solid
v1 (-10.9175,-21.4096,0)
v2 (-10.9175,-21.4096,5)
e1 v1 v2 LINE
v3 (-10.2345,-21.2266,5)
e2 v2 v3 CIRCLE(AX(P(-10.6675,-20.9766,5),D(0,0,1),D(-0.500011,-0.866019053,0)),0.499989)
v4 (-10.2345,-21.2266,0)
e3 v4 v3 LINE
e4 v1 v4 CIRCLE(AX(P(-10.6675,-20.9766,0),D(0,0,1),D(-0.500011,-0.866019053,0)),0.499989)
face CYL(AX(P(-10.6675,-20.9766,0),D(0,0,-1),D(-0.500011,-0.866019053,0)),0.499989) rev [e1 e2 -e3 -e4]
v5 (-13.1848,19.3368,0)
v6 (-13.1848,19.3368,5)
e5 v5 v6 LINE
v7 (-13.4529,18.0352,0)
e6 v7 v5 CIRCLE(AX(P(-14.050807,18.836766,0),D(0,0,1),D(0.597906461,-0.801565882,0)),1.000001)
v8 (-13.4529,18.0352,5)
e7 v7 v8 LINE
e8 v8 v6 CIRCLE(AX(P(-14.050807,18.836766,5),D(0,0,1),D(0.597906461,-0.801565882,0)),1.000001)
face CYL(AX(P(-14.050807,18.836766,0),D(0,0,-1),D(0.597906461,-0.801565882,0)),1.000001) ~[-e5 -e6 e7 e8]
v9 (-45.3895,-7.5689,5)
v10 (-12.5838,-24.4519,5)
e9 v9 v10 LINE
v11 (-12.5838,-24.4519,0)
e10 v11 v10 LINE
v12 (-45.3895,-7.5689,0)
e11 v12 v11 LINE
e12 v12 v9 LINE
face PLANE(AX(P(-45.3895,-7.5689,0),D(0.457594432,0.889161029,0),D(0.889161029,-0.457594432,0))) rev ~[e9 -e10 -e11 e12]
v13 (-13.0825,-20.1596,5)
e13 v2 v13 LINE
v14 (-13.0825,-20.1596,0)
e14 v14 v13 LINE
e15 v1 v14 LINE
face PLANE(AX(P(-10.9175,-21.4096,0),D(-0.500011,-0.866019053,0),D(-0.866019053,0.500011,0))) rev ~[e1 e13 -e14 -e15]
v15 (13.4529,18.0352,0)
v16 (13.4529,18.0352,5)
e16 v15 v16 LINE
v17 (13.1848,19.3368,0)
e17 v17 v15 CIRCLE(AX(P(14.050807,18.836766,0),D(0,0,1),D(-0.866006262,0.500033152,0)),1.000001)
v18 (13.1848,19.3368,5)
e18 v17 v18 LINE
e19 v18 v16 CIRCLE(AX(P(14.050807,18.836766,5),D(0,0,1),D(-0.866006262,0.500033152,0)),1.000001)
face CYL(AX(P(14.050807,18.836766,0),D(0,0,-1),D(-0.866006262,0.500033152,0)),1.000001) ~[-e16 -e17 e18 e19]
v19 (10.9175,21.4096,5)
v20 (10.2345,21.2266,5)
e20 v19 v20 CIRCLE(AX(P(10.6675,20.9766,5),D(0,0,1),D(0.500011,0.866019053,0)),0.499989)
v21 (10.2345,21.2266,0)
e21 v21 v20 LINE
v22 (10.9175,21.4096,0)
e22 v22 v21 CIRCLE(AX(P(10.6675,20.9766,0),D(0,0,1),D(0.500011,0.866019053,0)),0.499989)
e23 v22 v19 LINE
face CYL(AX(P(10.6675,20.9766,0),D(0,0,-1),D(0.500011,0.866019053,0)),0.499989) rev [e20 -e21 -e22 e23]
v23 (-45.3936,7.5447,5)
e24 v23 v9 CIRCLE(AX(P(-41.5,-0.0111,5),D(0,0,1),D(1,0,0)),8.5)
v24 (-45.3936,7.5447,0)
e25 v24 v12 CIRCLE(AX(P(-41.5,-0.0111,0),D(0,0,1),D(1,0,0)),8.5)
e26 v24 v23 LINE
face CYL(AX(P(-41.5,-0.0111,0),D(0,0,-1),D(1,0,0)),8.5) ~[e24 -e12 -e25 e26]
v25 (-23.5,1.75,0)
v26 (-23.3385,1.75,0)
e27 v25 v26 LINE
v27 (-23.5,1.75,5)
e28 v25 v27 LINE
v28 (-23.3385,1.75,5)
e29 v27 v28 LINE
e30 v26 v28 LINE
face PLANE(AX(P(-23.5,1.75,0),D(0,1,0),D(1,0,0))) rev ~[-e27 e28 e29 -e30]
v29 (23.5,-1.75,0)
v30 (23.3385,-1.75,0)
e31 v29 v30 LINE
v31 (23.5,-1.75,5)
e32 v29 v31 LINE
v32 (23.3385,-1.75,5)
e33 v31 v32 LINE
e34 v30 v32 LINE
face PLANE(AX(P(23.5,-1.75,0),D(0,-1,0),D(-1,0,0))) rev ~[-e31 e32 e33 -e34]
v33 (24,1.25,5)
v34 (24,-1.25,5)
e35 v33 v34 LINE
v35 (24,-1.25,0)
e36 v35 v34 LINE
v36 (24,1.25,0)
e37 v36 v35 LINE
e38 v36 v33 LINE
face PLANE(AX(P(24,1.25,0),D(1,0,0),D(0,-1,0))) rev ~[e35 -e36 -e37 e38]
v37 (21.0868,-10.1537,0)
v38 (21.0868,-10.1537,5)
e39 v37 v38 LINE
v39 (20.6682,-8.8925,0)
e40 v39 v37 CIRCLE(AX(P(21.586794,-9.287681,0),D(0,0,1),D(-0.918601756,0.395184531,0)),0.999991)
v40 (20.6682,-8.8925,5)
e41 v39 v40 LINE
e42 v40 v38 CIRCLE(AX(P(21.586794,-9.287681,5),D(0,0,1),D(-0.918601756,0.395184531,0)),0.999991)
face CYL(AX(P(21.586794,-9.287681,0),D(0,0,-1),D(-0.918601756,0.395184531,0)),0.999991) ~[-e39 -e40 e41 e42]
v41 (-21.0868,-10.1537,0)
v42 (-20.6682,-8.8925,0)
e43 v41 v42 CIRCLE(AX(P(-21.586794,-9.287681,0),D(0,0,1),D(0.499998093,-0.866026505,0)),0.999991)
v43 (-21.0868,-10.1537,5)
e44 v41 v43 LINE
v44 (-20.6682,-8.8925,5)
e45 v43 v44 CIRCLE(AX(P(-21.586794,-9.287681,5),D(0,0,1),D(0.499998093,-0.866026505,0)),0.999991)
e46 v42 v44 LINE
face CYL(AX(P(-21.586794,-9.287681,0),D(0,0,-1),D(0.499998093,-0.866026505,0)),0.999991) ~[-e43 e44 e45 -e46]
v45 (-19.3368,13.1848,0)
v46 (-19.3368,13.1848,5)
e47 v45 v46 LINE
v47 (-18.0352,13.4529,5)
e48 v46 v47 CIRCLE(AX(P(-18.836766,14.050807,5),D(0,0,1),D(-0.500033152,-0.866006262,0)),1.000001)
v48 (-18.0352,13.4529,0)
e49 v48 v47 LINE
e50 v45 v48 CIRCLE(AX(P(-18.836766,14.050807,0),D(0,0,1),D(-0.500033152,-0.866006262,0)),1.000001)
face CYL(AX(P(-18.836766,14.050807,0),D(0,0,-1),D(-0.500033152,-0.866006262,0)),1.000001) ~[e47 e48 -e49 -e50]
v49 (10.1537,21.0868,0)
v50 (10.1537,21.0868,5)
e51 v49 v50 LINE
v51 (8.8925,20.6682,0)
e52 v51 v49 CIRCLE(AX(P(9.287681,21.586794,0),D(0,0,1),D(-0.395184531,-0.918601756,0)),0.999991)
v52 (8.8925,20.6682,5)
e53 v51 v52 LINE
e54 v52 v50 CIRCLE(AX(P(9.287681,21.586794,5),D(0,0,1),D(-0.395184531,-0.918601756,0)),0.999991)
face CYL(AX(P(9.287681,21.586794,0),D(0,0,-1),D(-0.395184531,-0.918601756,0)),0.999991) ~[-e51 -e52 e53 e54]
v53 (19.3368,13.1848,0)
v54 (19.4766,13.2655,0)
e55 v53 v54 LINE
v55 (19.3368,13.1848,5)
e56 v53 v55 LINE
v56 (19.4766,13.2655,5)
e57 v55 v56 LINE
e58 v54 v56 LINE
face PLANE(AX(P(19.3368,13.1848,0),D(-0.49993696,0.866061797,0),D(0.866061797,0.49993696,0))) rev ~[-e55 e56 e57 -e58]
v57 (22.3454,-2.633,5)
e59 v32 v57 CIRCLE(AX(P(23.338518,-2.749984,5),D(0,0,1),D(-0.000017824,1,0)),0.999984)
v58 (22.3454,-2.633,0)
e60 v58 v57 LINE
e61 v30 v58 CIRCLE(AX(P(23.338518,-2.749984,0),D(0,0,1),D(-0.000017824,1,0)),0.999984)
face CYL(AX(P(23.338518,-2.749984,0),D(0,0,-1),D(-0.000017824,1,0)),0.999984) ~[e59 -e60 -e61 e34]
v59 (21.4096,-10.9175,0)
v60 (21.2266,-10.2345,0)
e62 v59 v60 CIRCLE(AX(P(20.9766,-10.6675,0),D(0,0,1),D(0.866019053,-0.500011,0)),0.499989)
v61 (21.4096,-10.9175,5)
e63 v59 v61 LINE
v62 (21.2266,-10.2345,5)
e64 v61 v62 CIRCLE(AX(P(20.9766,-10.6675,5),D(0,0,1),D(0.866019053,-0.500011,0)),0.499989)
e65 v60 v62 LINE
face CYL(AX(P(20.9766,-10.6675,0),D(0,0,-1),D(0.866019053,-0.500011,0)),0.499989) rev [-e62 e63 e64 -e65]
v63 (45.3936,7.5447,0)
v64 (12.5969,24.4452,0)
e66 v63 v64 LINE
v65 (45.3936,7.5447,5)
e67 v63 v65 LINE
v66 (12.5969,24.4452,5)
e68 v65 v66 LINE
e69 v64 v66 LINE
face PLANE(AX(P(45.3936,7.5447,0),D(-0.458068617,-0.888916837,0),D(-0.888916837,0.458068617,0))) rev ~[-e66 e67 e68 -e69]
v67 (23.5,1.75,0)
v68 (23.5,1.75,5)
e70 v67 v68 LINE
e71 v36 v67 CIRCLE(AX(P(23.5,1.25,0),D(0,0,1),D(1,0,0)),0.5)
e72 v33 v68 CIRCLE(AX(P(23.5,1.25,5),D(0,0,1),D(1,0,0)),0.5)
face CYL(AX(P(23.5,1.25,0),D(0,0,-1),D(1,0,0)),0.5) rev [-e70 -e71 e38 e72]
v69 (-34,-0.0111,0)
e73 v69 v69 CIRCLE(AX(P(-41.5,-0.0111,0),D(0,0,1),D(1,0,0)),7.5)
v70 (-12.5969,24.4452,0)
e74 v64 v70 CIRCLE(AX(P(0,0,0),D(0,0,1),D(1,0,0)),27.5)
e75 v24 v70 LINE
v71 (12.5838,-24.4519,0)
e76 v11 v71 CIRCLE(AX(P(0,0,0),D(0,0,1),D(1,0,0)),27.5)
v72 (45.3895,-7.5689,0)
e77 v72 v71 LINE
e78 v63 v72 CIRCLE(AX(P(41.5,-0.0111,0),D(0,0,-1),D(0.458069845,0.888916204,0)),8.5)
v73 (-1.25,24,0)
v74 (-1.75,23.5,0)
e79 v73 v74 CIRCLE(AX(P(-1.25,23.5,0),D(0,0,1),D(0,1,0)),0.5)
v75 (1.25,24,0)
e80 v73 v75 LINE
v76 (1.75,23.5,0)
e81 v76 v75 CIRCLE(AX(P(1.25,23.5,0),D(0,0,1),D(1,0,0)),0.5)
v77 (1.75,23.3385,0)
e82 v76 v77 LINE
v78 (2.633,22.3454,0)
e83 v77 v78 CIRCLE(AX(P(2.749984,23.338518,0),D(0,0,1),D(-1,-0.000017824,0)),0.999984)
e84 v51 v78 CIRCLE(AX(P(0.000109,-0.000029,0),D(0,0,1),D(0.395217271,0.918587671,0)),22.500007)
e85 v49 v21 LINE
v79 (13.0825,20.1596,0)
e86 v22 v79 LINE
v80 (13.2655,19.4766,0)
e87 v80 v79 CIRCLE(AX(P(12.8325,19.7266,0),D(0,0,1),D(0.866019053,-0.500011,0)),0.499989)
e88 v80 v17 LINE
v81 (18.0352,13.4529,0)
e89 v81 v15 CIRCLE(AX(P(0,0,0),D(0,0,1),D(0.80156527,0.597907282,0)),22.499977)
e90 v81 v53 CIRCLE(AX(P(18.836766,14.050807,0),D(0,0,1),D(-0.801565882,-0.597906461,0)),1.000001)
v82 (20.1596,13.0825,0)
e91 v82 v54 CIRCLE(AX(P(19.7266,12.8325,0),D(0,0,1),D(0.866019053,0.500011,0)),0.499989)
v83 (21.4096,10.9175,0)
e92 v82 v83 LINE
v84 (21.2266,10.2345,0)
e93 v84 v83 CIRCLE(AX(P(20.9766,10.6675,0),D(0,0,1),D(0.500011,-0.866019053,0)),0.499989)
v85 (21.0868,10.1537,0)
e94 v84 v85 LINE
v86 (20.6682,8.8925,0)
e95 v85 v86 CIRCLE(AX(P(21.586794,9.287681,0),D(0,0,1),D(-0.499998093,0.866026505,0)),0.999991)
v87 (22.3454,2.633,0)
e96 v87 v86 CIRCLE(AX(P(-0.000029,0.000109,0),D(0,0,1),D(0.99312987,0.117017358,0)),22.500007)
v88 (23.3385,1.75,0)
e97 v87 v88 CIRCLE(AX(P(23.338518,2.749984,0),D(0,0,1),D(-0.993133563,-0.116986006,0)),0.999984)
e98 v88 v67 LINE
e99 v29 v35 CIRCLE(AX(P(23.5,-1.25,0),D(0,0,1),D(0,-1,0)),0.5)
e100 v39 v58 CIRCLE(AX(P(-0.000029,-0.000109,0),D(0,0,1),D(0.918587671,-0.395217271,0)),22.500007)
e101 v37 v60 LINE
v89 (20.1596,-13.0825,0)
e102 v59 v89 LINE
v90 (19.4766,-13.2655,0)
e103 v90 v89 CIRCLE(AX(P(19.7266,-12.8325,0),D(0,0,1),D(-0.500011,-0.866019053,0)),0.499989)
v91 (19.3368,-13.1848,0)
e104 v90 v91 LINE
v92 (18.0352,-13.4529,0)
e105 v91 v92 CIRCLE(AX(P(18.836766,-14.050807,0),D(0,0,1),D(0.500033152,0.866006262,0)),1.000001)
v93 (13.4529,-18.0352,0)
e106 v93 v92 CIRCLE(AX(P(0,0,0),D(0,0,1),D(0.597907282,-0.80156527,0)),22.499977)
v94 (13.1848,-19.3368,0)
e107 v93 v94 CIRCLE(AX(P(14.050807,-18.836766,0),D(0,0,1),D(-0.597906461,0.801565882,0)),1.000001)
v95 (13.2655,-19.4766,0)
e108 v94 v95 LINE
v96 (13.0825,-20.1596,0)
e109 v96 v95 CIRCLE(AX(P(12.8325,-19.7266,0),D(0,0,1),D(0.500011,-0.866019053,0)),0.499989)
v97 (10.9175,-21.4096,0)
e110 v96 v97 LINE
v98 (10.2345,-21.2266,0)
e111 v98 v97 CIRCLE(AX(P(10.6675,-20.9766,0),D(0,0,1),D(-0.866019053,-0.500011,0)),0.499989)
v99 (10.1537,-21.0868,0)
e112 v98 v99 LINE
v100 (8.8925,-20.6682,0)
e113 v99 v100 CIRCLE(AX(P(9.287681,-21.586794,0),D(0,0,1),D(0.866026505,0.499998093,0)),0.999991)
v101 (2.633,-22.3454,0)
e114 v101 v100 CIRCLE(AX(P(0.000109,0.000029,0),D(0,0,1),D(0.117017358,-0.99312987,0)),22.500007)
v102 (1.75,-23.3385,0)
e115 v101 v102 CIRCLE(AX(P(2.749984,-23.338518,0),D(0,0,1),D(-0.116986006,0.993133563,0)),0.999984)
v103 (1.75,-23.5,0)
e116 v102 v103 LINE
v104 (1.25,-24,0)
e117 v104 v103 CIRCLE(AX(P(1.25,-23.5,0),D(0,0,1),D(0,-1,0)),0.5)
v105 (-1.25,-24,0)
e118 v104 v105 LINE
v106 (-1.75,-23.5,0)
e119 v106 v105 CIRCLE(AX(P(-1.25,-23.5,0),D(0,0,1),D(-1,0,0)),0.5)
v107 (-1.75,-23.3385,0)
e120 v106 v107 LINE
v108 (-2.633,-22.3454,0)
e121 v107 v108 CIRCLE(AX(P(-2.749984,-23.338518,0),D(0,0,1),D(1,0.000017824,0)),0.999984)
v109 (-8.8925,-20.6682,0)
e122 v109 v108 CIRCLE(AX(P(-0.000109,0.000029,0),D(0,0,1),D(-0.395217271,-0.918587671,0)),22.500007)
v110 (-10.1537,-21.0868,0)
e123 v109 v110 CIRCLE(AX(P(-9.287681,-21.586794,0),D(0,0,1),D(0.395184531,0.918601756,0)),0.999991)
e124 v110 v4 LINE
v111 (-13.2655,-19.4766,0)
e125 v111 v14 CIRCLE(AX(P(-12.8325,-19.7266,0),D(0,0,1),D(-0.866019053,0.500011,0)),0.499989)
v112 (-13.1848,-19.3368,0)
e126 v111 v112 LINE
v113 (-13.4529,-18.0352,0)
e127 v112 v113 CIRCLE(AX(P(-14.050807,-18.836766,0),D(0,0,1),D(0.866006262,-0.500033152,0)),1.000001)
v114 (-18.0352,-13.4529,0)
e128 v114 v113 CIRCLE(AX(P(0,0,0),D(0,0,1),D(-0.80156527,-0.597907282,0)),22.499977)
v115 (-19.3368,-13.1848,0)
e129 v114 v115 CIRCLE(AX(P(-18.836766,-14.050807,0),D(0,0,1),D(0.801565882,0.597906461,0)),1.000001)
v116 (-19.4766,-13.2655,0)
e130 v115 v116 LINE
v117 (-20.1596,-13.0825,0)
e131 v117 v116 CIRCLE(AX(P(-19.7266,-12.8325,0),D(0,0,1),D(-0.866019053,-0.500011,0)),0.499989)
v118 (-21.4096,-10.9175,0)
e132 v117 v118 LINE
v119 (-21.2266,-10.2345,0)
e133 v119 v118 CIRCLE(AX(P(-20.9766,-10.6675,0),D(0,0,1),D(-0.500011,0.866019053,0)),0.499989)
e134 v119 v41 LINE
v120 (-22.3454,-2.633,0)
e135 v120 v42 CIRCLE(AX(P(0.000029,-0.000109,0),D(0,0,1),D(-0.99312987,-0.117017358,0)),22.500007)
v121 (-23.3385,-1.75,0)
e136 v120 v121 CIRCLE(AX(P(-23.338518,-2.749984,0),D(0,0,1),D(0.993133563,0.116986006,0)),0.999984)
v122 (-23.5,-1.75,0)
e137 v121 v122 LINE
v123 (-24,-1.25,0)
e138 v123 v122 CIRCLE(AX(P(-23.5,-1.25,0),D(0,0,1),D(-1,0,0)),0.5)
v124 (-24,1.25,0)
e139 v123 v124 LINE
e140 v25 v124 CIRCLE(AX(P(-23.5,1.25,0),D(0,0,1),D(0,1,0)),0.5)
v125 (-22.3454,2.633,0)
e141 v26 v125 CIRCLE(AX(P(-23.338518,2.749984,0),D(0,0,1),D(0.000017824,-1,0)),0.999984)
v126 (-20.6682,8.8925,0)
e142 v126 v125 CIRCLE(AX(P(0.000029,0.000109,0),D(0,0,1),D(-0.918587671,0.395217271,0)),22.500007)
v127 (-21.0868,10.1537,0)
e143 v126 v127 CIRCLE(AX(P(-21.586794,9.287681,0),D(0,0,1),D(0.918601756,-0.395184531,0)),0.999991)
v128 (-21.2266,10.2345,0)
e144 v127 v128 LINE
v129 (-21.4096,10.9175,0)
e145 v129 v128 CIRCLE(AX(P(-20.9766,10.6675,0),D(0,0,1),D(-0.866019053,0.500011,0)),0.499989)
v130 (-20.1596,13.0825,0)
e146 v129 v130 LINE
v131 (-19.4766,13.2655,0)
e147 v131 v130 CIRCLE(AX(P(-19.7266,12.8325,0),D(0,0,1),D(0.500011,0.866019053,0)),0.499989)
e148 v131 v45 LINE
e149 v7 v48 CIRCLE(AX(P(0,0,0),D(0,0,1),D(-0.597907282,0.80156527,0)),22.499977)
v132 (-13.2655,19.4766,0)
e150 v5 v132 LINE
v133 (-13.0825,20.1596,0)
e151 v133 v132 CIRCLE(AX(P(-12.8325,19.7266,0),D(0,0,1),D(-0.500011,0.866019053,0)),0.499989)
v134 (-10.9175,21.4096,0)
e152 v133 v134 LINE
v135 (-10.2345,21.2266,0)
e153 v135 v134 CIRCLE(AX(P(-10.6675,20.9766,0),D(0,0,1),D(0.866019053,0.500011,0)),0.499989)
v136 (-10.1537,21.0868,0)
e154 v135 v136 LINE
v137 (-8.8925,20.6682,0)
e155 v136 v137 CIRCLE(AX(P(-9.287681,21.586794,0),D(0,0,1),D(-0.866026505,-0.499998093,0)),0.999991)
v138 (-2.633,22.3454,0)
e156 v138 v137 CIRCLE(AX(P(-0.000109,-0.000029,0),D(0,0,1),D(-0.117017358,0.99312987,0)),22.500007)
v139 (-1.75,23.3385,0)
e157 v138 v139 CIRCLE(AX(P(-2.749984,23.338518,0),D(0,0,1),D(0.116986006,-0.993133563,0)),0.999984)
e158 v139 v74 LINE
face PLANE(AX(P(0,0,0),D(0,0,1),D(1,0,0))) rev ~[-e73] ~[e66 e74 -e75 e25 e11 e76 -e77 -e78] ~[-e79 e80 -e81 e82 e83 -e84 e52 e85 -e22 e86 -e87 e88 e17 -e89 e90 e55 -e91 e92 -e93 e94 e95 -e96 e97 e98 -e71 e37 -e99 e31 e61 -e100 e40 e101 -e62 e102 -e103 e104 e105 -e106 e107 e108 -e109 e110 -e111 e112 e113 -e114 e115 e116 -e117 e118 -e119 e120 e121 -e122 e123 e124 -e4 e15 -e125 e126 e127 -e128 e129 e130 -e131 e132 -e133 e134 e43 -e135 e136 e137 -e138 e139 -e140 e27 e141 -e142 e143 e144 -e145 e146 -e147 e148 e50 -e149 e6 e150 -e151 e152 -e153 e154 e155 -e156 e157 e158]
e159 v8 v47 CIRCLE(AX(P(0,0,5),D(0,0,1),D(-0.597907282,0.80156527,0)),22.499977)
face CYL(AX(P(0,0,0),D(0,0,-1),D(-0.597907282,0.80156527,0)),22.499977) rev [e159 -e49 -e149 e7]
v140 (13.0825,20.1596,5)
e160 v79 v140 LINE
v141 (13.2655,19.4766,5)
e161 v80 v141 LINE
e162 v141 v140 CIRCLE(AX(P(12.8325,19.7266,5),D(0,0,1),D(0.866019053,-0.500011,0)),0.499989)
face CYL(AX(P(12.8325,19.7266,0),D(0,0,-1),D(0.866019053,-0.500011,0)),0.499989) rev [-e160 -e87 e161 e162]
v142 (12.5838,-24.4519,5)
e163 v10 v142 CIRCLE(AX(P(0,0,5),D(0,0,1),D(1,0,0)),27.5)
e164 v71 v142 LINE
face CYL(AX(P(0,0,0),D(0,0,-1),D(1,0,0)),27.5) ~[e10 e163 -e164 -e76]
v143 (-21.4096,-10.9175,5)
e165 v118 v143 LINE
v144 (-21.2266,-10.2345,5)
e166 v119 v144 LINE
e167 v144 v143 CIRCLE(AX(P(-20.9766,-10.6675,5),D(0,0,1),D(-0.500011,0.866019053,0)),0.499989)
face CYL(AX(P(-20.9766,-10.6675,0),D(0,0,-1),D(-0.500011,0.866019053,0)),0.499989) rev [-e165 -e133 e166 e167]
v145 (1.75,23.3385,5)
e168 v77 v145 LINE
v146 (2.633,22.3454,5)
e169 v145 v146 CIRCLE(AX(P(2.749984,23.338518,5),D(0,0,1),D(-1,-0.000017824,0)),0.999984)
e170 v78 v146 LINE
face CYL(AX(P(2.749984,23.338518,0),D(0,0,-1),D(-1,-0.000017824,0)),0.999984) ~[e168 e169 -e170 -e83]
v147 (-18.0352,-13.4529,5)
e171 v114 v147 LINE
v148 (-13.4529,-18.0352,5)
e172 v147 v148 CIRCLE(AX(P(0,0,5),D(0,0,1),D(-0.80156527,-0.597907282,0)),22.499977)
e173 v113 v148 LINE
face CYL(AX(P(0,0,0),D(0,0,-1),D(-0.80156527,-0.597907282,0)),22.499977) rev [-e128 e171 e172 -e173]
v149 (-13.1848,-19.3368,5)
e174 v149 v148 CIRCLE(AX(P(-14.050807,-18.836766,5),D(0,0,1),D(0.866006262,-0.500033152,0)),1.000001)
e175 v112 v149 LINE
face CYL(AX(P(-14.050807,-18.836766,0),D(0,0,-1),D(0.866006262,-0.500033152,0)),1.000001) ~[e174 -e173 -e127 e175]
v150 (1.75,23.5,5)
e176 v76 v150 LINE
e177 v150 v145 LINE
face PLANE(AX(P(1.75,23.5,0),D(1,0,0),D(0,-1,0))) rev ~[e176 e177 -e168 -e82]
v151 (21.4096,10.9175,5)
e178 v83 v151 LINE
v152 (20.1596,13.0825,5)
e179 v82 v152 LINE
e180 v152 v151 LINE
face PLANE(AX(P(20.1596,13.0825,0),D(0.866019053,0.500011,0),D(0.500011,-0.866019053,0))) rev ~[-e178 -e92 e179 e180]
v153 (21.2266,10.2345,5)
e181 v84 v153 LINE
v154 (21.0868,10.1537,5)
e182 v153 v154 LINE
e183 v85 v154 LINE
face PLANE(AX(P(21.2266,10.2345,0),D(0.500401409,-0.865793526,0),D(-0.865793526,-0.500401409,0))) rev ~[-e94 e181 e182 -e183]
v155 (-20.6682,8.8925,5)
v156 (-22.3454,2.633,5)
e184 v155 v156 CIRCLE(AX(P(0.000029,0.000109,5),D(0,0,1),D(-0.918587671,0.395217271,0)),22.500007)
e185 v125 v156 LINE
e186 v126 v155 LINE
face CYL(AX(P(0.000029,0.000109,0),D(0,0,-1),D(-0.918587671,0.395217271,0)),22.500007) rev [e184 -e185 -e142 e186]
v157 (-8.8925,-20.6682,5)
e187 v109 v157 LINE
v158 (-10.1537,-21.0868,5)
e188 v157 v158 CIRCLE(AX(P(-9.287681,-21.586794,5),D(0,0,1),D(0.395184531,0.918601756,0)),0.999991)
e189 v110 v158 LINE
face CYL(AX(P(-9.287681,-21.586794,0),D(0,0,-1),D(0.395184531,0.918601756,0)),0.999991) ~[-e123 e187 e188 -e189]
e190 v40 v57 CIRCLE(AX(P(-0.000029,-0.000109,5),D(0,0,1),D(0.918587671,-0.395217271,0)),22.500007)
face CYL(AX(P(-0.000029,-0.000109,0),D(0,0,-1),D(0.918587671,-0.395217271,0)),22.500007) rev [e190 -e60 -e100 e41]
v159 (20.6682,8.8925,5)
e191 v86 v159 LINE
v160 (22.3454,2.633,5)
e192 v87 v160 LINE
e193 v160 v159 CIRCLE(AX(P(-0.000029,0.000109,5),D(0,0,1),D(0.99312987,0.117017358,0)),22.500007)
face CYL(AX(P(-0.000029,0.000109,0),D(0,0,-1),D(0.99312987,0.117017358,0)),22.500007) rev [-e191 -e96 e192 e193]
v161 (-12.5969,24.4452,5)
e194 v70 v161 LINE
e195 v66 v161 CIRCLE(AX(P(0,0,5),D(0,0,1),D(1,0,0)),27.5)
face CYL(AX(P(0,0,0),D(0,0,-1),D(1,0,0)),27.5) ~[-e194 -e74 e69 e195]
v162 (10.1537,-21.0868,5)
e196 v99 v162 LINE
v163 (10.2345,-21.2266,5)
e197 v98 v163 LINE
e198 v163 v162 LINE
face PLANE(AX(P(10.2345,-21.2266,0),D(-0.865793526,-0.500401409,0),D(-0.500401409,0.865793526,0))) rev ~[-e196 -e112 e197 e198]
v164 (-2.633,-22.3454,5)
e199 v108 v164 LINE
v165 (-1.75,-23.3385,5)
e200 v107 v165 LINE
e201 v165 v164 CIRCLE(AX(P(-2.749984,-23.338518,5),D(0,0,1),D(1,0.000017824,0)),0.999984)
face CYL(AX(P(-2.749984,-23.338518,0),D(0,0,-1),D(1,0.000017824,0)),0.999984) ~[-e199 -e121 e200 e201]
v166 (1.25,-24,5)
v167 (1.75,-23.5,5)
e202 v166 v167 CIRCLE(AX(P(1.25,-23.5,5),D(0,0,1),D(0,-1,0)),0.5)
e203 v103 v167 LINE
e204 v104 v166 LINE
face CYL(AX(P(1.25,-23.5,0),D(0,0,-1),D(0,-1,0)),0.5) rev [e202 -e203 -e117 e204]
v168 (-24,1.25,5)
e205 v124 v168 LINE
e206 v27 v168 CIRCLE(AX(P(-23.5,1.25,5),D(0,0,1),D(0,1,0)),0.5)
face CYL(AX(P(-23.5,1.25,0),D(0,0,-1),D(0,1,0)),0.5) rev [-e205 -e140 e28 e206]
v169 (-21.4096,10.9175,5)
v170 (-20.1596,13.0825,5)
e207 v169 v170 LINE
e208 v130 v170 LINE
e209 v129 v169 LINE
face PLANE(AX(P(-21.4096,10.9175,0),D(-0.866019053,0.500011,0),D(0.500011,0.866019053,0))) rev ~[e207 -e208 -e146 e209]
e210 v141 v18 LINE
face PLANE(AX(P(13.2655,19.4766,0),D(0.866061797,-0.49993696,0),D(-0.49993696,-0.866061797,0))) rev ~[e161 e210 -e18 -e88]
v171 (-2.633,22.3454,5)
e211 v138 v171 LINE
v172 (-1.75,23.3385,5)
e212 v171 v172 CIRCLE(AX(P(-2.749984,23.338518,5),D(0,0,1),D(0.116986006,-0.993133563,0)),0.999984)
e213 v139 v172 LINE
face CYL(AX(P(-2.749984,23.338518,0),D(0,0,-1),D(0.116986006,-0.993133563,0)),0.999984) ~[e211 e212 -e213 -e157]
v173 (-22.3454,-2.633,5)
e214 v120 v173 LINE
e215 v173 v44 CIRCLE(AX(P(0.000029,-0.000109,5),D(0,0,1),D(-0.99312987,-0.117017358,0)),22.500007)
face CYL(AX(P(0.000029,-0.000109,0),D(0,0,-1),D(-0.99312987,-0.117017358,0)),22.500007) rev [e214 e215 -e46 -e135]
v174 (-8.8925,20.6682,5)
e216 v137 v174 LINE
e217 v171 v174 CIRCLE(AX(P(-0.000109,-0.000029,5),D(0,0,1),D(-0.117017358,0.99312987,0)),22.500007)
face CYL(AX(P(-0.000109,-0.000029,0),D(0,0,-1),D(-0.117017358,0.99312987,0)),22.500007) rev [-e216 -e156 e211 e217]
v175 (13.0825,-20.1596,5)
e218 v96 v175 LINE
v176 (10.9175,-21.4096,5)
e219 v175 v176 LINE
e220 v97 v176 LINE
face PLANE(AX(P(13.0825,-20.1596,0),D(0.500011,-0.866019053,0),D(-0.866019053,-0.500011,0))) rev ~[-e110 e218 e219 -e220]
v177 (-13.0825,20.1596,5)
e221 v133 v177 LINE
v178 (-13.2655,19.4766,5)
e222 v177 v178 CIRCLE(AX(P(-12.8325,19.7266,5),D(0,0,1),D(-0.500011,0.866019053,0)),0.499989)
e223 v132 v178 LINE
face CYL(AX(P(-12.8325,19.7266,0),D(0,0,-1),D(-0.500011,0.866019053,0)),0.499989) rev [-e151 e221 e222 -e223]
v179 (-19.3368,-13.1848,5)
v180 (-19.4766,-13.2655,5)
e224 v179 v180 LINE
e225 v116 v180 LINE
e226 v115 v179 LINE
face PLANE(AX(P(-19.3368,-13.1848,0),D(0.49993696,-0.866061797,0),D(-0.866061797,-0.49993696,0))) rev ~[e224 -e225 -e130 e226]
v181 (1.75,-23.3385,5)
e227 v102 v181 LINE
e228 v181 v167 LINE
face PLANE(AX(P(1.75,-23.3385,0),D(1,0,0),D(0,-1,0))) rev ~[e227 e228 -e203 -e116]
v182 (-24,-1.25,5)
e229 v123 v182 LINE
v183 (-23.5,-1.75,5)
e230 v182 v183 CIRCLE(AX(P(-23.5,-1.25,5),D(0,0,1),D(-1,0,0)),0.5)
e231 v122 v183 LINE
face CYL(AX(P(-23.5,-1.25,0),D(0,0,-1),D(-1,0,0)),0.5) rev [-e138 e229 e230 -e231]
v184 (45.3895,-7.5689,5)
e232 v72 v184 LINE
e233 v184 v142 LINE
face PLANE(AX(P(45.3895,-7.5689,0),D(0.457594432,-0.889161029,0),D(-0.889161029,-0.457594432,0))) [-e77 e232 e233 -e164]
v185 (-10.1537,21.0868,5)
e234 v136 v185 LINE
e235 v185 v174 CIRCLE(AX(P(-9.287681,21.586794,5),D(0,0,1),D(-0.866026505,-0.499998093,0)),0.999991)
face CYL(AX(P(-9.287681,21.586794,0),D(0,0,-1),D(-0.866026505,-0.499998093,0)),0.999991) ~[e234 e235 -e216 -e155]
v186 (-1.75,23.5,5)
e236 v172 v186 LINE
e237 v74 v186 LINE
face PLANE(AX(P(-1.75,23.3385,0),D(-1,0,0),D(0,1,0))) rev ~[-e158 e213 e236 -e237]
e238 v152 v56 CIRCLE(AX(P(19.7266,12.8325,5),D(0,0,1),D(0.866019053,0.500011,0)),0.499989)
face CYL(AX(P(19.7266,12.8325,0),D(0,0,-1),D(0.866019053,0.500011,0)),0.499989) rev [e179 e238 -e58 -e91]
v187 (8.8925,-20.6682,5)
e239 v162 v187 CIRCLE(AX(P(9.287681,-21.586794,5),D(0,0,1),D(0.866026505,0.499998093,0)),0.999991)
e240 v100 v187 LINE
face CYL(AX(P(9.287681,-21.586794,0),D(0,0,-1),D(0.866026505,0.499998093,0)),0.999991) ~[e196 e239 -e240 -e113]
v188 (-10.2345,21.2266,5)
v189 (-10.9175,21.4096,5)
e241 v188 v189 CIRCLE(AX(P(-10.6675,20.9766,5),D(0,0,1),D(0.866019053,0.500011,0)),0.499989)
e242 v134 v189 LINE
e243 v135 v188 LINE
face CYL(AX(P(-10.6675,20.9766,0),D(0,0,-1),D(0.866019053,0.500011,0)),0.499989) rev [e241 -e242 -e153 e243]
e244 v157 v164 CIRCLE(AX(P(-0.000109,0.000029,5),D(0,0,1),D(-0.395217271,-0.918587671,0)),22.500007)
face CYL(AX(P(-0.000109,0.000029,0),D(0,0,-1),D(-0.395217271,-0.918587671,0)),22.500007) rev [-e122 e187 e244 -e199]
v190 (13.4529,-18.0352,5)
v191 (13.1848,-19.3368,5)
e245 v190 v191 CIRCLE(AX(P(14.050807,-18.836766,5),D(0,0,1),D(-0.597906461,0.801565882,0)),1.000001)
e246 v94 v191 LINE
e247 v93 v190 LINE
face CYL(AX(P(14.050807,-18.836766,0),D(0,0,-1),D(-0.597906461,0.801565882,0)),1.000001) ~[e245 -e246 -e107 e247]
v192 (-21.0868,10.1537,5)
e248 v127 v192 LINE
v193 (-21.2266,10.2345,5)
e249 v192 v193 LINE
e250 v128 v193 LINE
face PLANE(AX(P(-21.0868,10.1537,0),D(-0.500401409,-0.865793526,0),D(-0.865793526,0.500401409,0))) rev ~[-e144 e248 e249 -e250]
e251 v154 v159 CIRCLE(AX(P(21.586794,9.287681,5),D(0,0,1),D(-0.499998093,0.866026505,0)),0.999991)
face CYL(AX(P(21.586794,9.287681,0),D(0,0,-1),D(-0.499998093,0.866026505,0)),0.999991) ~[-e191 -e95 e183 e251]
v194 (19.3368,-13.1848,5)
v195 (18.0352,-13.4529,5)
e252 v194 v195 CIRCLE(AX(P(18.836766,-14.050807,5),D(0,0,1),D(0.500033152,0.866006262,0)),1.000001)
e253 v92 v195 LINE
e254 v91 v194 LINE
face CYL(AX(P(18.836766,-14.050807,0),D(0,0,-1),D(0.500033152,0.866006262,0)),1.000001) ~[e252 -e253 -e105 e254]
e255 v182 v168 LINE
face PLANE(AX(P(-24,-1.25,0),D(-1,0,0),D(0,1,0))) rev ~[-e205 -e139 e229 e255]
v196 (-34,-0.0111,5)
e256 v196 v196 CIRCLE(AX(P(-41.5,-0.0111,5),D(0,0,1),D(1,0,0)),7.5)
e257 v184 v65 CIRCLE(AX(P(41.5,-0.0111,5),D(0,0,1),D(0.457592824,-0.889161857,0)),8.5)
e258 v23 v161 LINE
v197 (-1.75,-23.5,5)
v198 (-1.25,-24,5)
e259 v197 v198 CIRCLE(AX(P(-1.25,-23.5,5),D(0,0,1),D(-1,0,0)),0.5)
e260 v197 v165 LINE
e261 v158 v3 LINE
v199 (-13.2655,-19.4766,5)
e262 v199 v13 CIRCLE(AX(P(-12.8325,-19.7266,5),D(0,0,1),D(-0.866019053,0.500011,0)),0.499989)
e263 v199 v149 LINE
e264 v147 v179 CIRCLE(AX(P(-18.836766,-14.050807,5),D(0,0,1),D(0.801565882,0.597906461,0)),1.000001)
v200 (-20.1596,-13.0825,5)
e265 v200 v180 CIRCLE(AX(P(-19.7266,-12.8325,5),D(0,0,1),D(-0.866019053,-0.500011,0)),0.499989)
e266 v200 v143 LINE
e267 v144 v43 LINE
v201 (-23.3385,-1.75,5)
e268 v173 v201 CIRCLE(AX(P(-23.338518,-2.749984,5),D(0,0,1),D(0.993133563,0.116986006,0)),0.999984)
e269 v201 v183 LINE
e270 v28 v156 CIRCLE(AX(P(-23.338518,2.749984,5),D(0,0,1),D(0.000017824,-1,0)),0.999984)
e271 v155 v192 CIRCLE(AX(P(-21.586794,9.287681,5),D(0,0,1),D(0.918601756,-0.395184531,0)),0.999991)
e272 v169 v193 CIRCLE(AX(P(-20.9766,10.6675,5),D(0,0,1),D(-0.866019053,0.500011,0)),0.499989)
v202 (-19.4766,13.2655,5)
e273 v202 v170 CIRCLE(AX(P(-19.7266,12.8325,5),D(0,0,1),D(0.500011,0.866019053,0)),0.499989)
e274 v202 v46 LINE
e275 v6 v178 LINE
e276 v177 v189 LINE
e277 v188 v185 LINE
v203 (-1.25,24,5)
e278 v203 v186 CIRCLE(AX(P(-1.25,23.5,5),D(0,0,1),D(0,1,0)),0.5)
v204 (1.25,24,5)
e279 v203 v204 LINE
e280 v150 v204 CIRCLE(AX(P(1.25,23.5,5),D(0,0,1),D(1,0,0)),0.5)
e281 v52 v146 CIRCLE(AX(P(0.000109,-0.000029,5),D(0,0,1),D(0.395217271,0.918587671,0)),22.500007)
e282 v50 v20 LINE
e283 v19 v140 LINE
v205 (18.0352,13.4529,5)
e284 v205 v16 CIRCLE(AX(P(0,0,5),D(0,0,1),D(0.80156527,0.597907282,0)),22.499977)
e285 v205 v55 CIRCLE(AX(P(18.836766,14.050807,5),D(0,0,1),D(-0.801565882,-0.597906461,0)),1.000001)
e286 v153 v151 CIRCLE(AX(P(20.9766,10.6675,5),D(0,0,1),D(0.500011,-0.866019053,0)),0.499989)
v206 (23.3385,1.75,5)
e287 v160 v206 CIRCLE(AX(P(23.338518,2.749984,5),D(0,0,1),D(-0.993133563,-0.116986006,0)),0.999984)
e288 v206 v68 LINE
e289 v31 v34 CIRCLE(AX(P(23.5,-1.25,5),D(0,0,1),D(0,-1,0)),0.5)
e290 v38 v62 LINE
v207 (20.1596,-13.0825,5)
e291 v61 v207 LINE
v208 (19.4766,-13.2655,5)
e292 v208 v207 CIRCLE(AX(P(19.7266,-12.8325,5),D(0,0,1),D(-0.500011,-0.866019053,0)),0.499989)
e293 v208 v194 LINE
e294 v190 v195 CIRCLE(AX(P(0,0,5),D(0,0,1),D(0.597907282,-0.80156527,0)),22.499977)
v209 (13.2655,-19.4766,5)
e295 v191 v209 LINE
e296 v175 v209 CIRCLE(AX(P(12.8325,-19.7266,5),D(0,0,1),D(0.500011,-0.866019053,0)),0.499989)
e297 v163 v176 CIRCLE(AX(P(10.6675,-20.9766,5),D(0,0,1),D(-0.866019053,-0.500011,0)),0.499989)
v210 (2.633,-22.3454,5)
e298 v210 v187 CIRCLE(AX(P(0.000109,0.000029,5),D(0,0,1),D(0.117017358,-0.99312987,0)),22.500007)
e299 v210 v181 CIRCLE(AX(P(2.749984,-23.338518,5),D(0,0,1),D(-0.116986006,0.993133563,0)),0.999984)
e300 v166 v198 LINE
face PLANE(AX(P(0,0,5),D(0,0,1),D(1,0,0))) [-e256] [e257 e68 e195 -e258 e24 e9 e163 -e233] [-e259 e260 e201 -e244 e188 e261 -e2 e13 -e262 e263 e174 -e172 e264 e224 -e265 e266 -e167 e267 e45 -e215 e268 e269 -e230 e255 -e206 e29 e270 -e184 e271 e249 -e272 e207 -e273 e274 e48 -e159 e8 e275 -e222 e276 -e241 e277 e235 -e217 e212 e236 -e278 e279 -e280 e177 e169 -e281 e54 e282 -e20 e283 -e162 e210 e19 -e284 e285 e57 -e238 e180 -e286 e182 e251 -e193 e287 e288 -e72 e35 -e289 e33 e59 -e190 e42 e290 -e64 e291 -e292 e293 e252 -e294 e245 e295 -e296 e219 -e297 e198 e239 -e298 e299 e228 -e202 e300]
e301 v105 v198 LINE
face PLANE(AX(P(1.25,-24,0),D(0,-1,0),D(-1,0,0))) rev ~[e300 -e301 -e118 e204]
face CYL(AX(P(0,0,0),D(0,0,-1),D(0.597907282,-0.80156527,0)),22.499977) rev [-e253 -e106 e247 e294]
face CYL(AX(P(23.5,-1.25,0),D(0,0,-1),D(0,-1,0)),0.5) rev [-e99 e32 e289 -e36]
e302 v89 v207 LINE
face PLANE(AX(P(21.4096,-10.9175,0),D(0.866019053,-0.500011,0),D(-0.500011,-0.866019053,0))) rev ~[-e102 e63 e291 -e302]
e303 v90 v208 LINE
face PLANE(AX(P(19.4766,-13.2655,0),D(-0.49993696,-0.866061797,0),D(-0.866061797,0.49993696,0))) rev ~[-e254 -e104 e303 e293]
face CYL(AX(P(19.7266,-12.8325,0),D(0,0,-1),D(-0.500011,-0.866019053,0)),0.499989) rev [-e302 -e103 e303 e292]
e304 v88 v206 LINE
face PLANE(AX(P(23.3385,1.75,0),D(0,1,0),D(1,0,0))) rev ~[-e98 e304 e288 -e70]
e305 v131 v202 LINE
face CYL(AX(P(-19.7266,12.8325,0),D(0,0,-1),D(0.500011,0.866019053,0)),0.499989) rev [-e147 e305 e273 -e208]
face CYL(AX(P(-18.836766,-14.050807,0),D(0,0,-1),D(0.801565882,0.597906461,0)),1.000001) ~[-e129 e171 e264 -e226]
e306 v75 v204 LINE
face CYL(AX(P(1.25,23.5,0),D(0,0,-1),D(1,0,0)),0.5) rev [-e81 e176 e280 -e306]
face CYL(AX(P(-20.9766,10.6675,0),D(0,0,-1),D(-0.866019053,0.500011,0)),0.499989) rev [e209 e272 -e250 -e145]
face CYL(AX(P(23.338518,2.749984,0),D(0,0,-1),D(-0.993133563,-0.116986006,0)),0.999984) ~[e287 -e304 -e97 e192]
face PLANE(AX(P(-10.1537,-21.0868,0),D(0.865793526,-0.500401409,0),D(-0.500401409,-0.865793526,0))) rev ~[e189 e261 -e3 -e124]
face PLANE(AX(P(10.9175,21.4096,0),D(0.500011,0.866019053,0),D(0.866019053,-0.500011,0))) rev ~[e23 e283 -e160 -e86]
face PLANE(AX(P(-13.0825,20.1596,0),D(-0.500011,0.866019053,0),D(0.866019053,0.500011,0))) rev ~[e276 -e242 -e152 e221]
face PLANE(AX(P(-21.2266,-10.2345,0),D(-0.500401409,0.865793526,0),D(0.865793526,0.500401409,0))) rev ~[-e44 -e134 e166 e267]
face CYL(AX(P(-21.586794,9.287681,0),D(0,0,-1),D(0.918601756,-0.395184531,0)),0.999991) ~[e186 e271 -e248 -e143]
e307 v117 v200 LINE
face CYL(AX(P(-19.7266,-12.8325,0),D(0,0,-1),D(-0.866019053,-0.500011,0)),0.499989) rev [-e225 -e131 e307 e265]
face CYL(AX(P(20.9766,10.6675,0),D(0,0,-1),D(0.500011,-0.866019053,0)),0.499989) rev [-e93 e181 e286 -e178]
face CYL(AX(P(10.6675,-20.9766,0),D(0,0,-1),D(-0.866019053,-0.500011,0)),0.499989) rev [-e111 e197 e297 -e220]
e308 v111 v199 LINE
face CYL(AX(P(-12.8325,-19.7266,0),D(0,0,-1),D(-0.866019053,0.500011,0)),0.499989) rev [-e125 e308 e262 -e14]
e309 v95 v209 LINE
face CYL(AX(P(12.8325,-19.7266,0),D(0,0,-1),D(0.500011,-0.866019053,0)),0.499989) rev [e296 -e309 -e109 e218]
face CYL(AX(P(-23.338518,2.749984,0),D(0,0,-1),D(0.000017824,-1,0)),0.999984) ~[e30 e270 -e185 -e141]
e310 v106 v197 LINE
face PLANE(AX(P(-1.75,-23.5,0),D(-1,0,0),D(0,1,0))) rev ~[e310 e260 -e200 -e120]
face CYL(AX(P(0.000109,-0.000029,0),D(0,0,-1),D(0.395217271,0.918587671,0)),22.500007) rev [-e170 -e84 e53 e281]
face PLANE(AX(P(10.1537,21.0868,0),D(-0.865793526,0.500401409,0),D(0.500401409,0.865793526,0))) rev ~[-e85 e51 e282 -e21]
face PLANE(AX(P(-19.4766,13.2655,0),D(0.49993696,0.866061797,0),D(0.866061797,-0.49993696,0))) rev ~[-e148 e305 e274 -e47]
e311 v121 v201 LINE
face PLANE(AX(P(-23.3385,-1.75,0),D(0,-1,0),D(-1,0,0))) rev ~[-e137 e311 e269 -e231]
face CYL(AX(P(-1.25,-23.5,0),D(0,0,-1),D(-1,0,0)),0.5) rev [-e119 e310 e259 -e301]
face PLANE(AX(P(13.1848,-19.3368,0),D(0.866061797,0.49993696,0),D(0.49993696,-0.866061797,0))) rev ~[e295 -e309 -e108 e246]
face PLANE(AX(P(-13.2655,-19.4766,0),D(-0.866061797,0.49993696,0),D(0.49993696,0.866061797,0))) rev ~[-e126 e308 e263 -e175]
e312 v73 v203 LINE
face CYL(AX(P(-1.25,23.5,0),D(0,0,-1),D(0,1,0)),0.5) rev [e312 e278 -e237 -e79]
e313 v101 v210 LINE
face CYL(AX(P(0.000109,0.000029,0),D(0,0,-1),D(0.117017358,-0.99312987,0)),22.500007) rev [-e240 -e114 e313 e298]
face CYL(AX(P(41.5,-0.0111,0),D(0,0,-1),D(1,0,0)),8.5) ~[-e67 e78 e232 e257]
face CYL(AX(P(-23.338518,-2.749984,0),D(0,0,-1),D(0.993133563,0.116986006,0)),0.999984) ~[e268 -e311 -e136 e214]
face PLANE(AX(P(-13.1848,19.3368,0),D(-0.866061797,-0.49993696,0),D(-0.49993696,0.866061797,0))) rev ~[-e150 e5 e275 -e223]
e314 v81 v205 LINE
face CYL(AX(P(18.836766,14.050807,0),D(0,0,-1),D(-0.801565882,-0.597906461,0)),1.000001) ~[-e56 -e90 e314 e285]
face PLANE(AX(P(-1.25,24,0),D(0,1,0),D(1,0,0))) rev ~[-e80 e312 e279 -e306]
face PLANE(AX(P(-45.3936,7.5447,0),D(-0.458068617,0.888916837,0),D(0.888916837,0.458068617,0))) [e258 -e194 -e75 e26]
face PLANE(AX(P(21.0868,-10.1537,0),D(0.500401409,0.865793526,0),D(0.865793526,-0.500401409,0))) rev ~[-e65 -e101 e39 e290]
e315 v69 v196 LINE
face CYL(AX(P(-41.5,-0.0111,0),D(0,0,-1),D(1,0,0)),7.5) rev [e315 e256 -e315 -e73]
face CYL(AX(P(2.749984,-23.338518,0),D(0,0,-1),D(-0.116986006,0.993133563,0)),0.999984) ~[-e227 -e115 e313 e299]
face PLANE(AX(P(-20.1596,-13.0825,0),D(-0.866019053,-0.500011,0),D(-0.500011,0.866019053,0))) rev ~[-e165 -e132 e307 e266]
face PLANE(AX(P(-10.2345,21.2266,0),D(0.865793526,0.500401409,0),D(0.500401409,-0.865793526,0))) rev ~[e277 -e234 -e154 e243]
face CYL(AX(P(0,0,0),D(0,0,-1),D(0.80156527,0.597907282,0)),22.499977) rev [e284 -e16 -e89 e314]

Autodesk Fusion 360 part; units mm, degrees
sketch "草图1" plane through (0, 0, 0) normal (0, 0, 1) x (1, 0, 0)
  line L0 (0, 16) -> (0, -17)
  circle A0 centre (0, 0) radius 27.5
  line L1 (24, 1.25) -> (24, -1.25)
  line L2 (-23.5, 1.75) -> (-23.3385, 1.75)
  line L3 (23.3385, 1.75) -> (23.5, 1.75)
  line L4 (23.5, -1.75) -> (23.3385, -1.75)
  line L5 (-23.3385, -1.75) -> (-23.5, -1.75)
  line L6 (21.2266, 10.2345) -> (21.0868, 10.1537)
  line L7 (20.1596, 13.0825) -> (21.4096, 10.9175)
  line L8 (19.3368, 13.1848) -> (19.4766, 13.2655)
  line L9 (13.2655, 19.4766) -> (13.1848, 19.3368)
  line L10 (10.9175, 21.4096) -> (13.0825, 20.1596)
  line L11 (10.1537, 21.0868) -> (10.2345, 21.2266)
  line L12 (1.75, 23.5) -> (1.75, 23.3385)
  line L13 (-1.75, 23.3385) -> (-1.75, 23.5)
  line L14 (-10.2345, 21.2266) -> (-10.1537, 21.0868)
  line L15 (-13.0825, 20.1596) -> (-10.9175, 21.4096)
  line L16 (-13.1848, 19.3368) -> (-13.2655, 19.4766)
  line L17 (-19.4766, 13.2655) -> (-19.3368, 13.1848)
  line L18 (-21.0868, 10.1537) -> (-21.2266, 10.2345)
  line L19 (-23.5, 1.75) -> (-23.3385, 1.75)
  line L20 (-23.3385, -1.75) -> (-23.5, -1.75)
  line L21 (-21.2266, -10.2345) -> (-21.0868, -10.1537)
  line L22 (-19.3368, -13.1848) -> (-19.4766, -13.2655)
  line L23 (-13.2655, -19.4766) -> (-13.1848, -19.3368)
  line L24 (-10.1537, -21.0868) -> (-10.2345, -21.2266)
  line L25 (-1.75, -23.5) -> (-1.75, -23.3385)
  line L26 (1.25, -24) -> (-1.25, -24)
  line L27 (1.75, -23.3385) -> (1.75, -23.5)
  line L28 (10.2345, -21.2266) -> (10.1537, -21.0868)
  line L29 (13.1848, -19.3368) -> (13.2655, -19.4766)
  line L30 (19.4766, -13.2655) -> (19.3368, -13.1848)
  line L31 (21.0868, -10.1537) -> (21.2266, -10.2345)
  arc A1 (20.6682, -8.8925) -> (22.3454, -2.633) centre (0, 0) ccw
  arc A2 (13.4529, -18.0352) -> (18.0352, -13.4529) centre (0, 0) ccw
  arc A3 (2.633, -22.3454) -> (8.8925, -20.6682) centre (0, 0) ccw
  arc A4 (-8.8925, -20.6682) -> (-2.633, -22.3454) centre (0, 0) ccw
  arc A5 (-22.3454, -2.633) -> (-20.6682, -8.8925) centre (0, 0) ccw
  arc A6 (-18.0352, -13.4529) -> (-13.4529, -18.0352) centre (0, 0) ccw
  arc A7 (22.3454, 2.633) -> (20.6682, 8.8925) centre (0, 0) ccw
  arc A8 (18.0352, 13.4529) -> (13.4529, 18.0352) centre (0, 0) ccw
  arc A9 (8.8925, 20.6682) -> (2.633, 22.3454) centre (0, 0) ccw
  arc A10 (-2.633, 22.3454) -> (-8.8925, 20.6682) centre (0, 0) ccw
  arc A11 (-13.4529, 18.0352) -> (-18.0352, 13.4529) centre (0, 0) ccw
  arc A12 (-20.6682, 8.8925) -> (-22.3454, 2.633) centre (0, 0) ccw
  line L32 (1.75, 0) -> (22.5, 0)
  arc A13 (23.3385, -1.75) -> (22.3454, -2.633) centre (23.3385, -2.75) ccw
  arc A14 (22.3454, 2.633) -> (23.3385, 1.75) centre (23.3385, 2.75) ccw
  arc A15 (24, 1.25) -> (23.5, 1.75) centre (23.5, 1.25) ccw
  arc A16 (23.5, -1.75) -> (24, -1.25) centre (23.5, -1.25) ccw
  arc A17 (18.0352, 13.4529) -> (19.3368, 13.1848) centre (18.8368, 14.0508) ccw
  arc A18 (20.1596, 13.0825) -> (19.4766, 13.2655) centre (19.7266, 12.8325) ccw
  line L33 (20.1596, 13.0825) -> (21.4096, 10.9175)
  arc A19 (21.2266, 10.2345) -> (21.4096, 10.9175) centre (20.9766, 10.6675) ccw
  arc A20 (21.0868, 10.1537) -> (20.6682, 8.8925) centre (21.5868, 9.2877) ccw
  arc A21 (8.8925, 20.6682) -> (10.1537, 21.0868) centre (9.2877, 21.5868) ccw
  arc A22 (10.9175, 21.4096) -> (10.2345, 21.2266) centre (10.6675, 20.9766) ccw
  arc A23 (13.2655, 19.4766) -> (13.0825, 20.1596) centre (12.8325, 19.7266) ccw
  arc A24 (13.1848, 19.3368) -> (13.4529, 18.0352) centre (14.0508, 18.8368) ccw
  arc A25 (-2.633, 22.3454) -> (-1.75, 23.3385) centre (-2.75, 23.3385) ccw
  arc A26 (-1.25, 24) -> (-1.75, 23.5) centre (-1.25, 23.5) ccw
  line L34 (-1.25, 24) -> (1.25, 24)
  arc A27 (1.75, 23.5) -> (1.25, 24) centre (1.25, 23.5) ccw
  arc A28 (1.75, 23.3385) -> (2.633, 22.3454) centre (2.75, 23.3385) ccw
  arc A29 (-13.4529, 18.0352) -> (-13.1848, 19.3368) centre (-14.0508, 18.8368) ccw
  arc A30 (-13.0825, 20.1596) -> (-13.2655, 19.4766) centre (-12.8325, 19.7266) ccw
  arc A31 (-10.2345, 21.2266) -> (-10.9175, 21.4096) centre (-10.6675, 20.9766) ccw
  arc A32 (-10.1537, 21.0868) -> (-8.8925, 20.6682) centre (-9.2877, 21.5868) ccw
  arc A33 (-20.6682, 8.8925) -> (-21.0868, 10.1537) centre (-21.5868, 9.2877) ccw
  arc A34 (-21.4096, 10.9175) -> (-21.2266, 10.2345) centre (-20.9766, 10.6675) ccw
  line L35 (-21.4096, 10.9175) -> (-20.1596, 13.0825)
  arc A35 (-19.4766, 13.2655) -> (-20.1596, 13.0825) centre (-19.7266, 12.8325) ccw
  arc A36 (-19.3368, 13.1848) -> (-18.0352, 13.4529) centre (-18.8368, 14.0508) ccw
  arc A37 (-22.3454, -2.633) -> (-23.3385, -1.75) centre (-23.3385, -2.75) ccw
  arc A38 (-24, -1.25) -> (-23.5, -1.75) centre (-23.5, -1.25) ccw
  line L36 (-24, -1.25) -> (-24, 1.25)
  arc A39 (-23.5, 1.75) -> (-24, 1.25) centre (-23.5, 1.25) ccw
  arc A40 (-23.3385, 1.75) -> (-22.3454, 2.633) centre (-23.3385, 2.75) ccw
  arc A41 (-18.0352, -13.4529) -> (-19.3368, -13.1848) centre (-18.8368, -14.0508) ccw
  arc A42 (-20.1596, -13.0825) -> (-19.4766, -13.2655) centre (-19.7266, -12.8325) ccw
  line L37 (-20.1596, -13.0825) -> (-21.4096, -10.9175)
  arc A43 (-21.2266, -10.2345) -> (-21.4096, -10.9175) centre (-20.9766, -10.6675) ccw
  arc A44 (-21.0868, -10.1537) -> (-20.6682, -8.8925) centre (-21.5868, -9.2877) ccw
  arc A45 (-8.8925, -20.6682) -> (-10.1537, -21.0868) centre (-9.2877, -21.5868) ccw
  arc A46 (-10.9175, -21.4096) -> (-10.2345, -21.2266) centre (-10.6675, -20.9766) ccw
  line L38 (-10.9175, -21.4096) -> (-13.0825, -20.1596)
  arc A47 (-13.2655, -19.4766) -> (-13.0825, -20.1596) centre (-12.8325, -19.7266) ccw
  arc A48 (-13.1848, -19.3368) -> (-13.4529, -18.0352) centre (-14.0508, -18.8368) ccw
  arc A49 (2.633, -22.3454) -> (1.75, -23.3385) centre (2.75, -23.3385) ccw
  arc A50 (1.25, -24) -> (1.75, -23.5) centre (1.25, -23.5) ccw
  arc A51 (-1.75, -23.5) -> (-1.25, -24) centre (-1.25, -23.5) ccw
  arc A52 (-1.75, -23.3385) -> (-2.633, -22.3454) centre (-2.75, -23.3385) ccw
  arc A53 (13.4529, -18.0352) -> (13.1848, -19.3368) centre (14.0508, -18.8368) ccw
  arc A54 (13.0825, -20.1596) -> (13.2655, -19.4766) centre (12.8325, -19.7266) ccw
  line L39 (13.0825, -20.1596) -> (10.9175, -21.4096)
  arc A55 (10.2345, -21.2266) -> (10.9175, -21.4096) centre (10.6675, -20.9766) ccw
  arc A56 (10.1537, -21.0868) -> (8.8925, -20.6682) centre (9.2877, -21.5868) ccw
  arc A57 (20.6682, -8.8925) -> (21.0868, -10.1537) centre (21.5868, -9.2877) ccw
  arc A58 (21.4096, -10.9175) -> (21.2266, -10.2345) centre (20.9766, -10.6675) ccw
  line L40 (21.4096, -10.9175) -> (20.1596, -13.0825)
  arc A59 (19.4766, -13.2655) -> (20.1596, -13.0825) centre (19.7266, -12.8325) ccw
  arc A60 (19.3368, -13.1848) -> (18.0352, -13.4529) centre (18.8368, -14.0508) ccw
  circle A61 centre (-41.5, -0.0111) radius 8.5
  circle A62 centre (41.5, -0.0111) radius 8.5
  line L41 (0, 16) -> (0, -17)
  line L42 (-45.3936, 7.5447) -> (-12.5969, 24.4452)
  line L43 (45.3936, 7.5447) -> (12.5969, 24.4452)
  line L44 (45.3895, -7.5689) -> (12.5838, -24.4519)
  line L45 (-45.3895, -7.5689) -> (-12.5838, -24.4519)
  circle A63 centre (-41.5, -0.0111) radius 7.5
  point P0 (24, 1.75)
  dimension "d1" = 45
  dimension "d2" = 55
  dimension "d38" = 1
  dimension "d39" = 1
  dimension "d40" = 0.5
  dimension "d41" = 0.5
  dimension "d43" = 360
  dimension "d55" = 17
  dimension "d56" = 41.5
  dimension "d59" = 15
extrude "拉伸6" add sketch "草图1" along normal blind 5
